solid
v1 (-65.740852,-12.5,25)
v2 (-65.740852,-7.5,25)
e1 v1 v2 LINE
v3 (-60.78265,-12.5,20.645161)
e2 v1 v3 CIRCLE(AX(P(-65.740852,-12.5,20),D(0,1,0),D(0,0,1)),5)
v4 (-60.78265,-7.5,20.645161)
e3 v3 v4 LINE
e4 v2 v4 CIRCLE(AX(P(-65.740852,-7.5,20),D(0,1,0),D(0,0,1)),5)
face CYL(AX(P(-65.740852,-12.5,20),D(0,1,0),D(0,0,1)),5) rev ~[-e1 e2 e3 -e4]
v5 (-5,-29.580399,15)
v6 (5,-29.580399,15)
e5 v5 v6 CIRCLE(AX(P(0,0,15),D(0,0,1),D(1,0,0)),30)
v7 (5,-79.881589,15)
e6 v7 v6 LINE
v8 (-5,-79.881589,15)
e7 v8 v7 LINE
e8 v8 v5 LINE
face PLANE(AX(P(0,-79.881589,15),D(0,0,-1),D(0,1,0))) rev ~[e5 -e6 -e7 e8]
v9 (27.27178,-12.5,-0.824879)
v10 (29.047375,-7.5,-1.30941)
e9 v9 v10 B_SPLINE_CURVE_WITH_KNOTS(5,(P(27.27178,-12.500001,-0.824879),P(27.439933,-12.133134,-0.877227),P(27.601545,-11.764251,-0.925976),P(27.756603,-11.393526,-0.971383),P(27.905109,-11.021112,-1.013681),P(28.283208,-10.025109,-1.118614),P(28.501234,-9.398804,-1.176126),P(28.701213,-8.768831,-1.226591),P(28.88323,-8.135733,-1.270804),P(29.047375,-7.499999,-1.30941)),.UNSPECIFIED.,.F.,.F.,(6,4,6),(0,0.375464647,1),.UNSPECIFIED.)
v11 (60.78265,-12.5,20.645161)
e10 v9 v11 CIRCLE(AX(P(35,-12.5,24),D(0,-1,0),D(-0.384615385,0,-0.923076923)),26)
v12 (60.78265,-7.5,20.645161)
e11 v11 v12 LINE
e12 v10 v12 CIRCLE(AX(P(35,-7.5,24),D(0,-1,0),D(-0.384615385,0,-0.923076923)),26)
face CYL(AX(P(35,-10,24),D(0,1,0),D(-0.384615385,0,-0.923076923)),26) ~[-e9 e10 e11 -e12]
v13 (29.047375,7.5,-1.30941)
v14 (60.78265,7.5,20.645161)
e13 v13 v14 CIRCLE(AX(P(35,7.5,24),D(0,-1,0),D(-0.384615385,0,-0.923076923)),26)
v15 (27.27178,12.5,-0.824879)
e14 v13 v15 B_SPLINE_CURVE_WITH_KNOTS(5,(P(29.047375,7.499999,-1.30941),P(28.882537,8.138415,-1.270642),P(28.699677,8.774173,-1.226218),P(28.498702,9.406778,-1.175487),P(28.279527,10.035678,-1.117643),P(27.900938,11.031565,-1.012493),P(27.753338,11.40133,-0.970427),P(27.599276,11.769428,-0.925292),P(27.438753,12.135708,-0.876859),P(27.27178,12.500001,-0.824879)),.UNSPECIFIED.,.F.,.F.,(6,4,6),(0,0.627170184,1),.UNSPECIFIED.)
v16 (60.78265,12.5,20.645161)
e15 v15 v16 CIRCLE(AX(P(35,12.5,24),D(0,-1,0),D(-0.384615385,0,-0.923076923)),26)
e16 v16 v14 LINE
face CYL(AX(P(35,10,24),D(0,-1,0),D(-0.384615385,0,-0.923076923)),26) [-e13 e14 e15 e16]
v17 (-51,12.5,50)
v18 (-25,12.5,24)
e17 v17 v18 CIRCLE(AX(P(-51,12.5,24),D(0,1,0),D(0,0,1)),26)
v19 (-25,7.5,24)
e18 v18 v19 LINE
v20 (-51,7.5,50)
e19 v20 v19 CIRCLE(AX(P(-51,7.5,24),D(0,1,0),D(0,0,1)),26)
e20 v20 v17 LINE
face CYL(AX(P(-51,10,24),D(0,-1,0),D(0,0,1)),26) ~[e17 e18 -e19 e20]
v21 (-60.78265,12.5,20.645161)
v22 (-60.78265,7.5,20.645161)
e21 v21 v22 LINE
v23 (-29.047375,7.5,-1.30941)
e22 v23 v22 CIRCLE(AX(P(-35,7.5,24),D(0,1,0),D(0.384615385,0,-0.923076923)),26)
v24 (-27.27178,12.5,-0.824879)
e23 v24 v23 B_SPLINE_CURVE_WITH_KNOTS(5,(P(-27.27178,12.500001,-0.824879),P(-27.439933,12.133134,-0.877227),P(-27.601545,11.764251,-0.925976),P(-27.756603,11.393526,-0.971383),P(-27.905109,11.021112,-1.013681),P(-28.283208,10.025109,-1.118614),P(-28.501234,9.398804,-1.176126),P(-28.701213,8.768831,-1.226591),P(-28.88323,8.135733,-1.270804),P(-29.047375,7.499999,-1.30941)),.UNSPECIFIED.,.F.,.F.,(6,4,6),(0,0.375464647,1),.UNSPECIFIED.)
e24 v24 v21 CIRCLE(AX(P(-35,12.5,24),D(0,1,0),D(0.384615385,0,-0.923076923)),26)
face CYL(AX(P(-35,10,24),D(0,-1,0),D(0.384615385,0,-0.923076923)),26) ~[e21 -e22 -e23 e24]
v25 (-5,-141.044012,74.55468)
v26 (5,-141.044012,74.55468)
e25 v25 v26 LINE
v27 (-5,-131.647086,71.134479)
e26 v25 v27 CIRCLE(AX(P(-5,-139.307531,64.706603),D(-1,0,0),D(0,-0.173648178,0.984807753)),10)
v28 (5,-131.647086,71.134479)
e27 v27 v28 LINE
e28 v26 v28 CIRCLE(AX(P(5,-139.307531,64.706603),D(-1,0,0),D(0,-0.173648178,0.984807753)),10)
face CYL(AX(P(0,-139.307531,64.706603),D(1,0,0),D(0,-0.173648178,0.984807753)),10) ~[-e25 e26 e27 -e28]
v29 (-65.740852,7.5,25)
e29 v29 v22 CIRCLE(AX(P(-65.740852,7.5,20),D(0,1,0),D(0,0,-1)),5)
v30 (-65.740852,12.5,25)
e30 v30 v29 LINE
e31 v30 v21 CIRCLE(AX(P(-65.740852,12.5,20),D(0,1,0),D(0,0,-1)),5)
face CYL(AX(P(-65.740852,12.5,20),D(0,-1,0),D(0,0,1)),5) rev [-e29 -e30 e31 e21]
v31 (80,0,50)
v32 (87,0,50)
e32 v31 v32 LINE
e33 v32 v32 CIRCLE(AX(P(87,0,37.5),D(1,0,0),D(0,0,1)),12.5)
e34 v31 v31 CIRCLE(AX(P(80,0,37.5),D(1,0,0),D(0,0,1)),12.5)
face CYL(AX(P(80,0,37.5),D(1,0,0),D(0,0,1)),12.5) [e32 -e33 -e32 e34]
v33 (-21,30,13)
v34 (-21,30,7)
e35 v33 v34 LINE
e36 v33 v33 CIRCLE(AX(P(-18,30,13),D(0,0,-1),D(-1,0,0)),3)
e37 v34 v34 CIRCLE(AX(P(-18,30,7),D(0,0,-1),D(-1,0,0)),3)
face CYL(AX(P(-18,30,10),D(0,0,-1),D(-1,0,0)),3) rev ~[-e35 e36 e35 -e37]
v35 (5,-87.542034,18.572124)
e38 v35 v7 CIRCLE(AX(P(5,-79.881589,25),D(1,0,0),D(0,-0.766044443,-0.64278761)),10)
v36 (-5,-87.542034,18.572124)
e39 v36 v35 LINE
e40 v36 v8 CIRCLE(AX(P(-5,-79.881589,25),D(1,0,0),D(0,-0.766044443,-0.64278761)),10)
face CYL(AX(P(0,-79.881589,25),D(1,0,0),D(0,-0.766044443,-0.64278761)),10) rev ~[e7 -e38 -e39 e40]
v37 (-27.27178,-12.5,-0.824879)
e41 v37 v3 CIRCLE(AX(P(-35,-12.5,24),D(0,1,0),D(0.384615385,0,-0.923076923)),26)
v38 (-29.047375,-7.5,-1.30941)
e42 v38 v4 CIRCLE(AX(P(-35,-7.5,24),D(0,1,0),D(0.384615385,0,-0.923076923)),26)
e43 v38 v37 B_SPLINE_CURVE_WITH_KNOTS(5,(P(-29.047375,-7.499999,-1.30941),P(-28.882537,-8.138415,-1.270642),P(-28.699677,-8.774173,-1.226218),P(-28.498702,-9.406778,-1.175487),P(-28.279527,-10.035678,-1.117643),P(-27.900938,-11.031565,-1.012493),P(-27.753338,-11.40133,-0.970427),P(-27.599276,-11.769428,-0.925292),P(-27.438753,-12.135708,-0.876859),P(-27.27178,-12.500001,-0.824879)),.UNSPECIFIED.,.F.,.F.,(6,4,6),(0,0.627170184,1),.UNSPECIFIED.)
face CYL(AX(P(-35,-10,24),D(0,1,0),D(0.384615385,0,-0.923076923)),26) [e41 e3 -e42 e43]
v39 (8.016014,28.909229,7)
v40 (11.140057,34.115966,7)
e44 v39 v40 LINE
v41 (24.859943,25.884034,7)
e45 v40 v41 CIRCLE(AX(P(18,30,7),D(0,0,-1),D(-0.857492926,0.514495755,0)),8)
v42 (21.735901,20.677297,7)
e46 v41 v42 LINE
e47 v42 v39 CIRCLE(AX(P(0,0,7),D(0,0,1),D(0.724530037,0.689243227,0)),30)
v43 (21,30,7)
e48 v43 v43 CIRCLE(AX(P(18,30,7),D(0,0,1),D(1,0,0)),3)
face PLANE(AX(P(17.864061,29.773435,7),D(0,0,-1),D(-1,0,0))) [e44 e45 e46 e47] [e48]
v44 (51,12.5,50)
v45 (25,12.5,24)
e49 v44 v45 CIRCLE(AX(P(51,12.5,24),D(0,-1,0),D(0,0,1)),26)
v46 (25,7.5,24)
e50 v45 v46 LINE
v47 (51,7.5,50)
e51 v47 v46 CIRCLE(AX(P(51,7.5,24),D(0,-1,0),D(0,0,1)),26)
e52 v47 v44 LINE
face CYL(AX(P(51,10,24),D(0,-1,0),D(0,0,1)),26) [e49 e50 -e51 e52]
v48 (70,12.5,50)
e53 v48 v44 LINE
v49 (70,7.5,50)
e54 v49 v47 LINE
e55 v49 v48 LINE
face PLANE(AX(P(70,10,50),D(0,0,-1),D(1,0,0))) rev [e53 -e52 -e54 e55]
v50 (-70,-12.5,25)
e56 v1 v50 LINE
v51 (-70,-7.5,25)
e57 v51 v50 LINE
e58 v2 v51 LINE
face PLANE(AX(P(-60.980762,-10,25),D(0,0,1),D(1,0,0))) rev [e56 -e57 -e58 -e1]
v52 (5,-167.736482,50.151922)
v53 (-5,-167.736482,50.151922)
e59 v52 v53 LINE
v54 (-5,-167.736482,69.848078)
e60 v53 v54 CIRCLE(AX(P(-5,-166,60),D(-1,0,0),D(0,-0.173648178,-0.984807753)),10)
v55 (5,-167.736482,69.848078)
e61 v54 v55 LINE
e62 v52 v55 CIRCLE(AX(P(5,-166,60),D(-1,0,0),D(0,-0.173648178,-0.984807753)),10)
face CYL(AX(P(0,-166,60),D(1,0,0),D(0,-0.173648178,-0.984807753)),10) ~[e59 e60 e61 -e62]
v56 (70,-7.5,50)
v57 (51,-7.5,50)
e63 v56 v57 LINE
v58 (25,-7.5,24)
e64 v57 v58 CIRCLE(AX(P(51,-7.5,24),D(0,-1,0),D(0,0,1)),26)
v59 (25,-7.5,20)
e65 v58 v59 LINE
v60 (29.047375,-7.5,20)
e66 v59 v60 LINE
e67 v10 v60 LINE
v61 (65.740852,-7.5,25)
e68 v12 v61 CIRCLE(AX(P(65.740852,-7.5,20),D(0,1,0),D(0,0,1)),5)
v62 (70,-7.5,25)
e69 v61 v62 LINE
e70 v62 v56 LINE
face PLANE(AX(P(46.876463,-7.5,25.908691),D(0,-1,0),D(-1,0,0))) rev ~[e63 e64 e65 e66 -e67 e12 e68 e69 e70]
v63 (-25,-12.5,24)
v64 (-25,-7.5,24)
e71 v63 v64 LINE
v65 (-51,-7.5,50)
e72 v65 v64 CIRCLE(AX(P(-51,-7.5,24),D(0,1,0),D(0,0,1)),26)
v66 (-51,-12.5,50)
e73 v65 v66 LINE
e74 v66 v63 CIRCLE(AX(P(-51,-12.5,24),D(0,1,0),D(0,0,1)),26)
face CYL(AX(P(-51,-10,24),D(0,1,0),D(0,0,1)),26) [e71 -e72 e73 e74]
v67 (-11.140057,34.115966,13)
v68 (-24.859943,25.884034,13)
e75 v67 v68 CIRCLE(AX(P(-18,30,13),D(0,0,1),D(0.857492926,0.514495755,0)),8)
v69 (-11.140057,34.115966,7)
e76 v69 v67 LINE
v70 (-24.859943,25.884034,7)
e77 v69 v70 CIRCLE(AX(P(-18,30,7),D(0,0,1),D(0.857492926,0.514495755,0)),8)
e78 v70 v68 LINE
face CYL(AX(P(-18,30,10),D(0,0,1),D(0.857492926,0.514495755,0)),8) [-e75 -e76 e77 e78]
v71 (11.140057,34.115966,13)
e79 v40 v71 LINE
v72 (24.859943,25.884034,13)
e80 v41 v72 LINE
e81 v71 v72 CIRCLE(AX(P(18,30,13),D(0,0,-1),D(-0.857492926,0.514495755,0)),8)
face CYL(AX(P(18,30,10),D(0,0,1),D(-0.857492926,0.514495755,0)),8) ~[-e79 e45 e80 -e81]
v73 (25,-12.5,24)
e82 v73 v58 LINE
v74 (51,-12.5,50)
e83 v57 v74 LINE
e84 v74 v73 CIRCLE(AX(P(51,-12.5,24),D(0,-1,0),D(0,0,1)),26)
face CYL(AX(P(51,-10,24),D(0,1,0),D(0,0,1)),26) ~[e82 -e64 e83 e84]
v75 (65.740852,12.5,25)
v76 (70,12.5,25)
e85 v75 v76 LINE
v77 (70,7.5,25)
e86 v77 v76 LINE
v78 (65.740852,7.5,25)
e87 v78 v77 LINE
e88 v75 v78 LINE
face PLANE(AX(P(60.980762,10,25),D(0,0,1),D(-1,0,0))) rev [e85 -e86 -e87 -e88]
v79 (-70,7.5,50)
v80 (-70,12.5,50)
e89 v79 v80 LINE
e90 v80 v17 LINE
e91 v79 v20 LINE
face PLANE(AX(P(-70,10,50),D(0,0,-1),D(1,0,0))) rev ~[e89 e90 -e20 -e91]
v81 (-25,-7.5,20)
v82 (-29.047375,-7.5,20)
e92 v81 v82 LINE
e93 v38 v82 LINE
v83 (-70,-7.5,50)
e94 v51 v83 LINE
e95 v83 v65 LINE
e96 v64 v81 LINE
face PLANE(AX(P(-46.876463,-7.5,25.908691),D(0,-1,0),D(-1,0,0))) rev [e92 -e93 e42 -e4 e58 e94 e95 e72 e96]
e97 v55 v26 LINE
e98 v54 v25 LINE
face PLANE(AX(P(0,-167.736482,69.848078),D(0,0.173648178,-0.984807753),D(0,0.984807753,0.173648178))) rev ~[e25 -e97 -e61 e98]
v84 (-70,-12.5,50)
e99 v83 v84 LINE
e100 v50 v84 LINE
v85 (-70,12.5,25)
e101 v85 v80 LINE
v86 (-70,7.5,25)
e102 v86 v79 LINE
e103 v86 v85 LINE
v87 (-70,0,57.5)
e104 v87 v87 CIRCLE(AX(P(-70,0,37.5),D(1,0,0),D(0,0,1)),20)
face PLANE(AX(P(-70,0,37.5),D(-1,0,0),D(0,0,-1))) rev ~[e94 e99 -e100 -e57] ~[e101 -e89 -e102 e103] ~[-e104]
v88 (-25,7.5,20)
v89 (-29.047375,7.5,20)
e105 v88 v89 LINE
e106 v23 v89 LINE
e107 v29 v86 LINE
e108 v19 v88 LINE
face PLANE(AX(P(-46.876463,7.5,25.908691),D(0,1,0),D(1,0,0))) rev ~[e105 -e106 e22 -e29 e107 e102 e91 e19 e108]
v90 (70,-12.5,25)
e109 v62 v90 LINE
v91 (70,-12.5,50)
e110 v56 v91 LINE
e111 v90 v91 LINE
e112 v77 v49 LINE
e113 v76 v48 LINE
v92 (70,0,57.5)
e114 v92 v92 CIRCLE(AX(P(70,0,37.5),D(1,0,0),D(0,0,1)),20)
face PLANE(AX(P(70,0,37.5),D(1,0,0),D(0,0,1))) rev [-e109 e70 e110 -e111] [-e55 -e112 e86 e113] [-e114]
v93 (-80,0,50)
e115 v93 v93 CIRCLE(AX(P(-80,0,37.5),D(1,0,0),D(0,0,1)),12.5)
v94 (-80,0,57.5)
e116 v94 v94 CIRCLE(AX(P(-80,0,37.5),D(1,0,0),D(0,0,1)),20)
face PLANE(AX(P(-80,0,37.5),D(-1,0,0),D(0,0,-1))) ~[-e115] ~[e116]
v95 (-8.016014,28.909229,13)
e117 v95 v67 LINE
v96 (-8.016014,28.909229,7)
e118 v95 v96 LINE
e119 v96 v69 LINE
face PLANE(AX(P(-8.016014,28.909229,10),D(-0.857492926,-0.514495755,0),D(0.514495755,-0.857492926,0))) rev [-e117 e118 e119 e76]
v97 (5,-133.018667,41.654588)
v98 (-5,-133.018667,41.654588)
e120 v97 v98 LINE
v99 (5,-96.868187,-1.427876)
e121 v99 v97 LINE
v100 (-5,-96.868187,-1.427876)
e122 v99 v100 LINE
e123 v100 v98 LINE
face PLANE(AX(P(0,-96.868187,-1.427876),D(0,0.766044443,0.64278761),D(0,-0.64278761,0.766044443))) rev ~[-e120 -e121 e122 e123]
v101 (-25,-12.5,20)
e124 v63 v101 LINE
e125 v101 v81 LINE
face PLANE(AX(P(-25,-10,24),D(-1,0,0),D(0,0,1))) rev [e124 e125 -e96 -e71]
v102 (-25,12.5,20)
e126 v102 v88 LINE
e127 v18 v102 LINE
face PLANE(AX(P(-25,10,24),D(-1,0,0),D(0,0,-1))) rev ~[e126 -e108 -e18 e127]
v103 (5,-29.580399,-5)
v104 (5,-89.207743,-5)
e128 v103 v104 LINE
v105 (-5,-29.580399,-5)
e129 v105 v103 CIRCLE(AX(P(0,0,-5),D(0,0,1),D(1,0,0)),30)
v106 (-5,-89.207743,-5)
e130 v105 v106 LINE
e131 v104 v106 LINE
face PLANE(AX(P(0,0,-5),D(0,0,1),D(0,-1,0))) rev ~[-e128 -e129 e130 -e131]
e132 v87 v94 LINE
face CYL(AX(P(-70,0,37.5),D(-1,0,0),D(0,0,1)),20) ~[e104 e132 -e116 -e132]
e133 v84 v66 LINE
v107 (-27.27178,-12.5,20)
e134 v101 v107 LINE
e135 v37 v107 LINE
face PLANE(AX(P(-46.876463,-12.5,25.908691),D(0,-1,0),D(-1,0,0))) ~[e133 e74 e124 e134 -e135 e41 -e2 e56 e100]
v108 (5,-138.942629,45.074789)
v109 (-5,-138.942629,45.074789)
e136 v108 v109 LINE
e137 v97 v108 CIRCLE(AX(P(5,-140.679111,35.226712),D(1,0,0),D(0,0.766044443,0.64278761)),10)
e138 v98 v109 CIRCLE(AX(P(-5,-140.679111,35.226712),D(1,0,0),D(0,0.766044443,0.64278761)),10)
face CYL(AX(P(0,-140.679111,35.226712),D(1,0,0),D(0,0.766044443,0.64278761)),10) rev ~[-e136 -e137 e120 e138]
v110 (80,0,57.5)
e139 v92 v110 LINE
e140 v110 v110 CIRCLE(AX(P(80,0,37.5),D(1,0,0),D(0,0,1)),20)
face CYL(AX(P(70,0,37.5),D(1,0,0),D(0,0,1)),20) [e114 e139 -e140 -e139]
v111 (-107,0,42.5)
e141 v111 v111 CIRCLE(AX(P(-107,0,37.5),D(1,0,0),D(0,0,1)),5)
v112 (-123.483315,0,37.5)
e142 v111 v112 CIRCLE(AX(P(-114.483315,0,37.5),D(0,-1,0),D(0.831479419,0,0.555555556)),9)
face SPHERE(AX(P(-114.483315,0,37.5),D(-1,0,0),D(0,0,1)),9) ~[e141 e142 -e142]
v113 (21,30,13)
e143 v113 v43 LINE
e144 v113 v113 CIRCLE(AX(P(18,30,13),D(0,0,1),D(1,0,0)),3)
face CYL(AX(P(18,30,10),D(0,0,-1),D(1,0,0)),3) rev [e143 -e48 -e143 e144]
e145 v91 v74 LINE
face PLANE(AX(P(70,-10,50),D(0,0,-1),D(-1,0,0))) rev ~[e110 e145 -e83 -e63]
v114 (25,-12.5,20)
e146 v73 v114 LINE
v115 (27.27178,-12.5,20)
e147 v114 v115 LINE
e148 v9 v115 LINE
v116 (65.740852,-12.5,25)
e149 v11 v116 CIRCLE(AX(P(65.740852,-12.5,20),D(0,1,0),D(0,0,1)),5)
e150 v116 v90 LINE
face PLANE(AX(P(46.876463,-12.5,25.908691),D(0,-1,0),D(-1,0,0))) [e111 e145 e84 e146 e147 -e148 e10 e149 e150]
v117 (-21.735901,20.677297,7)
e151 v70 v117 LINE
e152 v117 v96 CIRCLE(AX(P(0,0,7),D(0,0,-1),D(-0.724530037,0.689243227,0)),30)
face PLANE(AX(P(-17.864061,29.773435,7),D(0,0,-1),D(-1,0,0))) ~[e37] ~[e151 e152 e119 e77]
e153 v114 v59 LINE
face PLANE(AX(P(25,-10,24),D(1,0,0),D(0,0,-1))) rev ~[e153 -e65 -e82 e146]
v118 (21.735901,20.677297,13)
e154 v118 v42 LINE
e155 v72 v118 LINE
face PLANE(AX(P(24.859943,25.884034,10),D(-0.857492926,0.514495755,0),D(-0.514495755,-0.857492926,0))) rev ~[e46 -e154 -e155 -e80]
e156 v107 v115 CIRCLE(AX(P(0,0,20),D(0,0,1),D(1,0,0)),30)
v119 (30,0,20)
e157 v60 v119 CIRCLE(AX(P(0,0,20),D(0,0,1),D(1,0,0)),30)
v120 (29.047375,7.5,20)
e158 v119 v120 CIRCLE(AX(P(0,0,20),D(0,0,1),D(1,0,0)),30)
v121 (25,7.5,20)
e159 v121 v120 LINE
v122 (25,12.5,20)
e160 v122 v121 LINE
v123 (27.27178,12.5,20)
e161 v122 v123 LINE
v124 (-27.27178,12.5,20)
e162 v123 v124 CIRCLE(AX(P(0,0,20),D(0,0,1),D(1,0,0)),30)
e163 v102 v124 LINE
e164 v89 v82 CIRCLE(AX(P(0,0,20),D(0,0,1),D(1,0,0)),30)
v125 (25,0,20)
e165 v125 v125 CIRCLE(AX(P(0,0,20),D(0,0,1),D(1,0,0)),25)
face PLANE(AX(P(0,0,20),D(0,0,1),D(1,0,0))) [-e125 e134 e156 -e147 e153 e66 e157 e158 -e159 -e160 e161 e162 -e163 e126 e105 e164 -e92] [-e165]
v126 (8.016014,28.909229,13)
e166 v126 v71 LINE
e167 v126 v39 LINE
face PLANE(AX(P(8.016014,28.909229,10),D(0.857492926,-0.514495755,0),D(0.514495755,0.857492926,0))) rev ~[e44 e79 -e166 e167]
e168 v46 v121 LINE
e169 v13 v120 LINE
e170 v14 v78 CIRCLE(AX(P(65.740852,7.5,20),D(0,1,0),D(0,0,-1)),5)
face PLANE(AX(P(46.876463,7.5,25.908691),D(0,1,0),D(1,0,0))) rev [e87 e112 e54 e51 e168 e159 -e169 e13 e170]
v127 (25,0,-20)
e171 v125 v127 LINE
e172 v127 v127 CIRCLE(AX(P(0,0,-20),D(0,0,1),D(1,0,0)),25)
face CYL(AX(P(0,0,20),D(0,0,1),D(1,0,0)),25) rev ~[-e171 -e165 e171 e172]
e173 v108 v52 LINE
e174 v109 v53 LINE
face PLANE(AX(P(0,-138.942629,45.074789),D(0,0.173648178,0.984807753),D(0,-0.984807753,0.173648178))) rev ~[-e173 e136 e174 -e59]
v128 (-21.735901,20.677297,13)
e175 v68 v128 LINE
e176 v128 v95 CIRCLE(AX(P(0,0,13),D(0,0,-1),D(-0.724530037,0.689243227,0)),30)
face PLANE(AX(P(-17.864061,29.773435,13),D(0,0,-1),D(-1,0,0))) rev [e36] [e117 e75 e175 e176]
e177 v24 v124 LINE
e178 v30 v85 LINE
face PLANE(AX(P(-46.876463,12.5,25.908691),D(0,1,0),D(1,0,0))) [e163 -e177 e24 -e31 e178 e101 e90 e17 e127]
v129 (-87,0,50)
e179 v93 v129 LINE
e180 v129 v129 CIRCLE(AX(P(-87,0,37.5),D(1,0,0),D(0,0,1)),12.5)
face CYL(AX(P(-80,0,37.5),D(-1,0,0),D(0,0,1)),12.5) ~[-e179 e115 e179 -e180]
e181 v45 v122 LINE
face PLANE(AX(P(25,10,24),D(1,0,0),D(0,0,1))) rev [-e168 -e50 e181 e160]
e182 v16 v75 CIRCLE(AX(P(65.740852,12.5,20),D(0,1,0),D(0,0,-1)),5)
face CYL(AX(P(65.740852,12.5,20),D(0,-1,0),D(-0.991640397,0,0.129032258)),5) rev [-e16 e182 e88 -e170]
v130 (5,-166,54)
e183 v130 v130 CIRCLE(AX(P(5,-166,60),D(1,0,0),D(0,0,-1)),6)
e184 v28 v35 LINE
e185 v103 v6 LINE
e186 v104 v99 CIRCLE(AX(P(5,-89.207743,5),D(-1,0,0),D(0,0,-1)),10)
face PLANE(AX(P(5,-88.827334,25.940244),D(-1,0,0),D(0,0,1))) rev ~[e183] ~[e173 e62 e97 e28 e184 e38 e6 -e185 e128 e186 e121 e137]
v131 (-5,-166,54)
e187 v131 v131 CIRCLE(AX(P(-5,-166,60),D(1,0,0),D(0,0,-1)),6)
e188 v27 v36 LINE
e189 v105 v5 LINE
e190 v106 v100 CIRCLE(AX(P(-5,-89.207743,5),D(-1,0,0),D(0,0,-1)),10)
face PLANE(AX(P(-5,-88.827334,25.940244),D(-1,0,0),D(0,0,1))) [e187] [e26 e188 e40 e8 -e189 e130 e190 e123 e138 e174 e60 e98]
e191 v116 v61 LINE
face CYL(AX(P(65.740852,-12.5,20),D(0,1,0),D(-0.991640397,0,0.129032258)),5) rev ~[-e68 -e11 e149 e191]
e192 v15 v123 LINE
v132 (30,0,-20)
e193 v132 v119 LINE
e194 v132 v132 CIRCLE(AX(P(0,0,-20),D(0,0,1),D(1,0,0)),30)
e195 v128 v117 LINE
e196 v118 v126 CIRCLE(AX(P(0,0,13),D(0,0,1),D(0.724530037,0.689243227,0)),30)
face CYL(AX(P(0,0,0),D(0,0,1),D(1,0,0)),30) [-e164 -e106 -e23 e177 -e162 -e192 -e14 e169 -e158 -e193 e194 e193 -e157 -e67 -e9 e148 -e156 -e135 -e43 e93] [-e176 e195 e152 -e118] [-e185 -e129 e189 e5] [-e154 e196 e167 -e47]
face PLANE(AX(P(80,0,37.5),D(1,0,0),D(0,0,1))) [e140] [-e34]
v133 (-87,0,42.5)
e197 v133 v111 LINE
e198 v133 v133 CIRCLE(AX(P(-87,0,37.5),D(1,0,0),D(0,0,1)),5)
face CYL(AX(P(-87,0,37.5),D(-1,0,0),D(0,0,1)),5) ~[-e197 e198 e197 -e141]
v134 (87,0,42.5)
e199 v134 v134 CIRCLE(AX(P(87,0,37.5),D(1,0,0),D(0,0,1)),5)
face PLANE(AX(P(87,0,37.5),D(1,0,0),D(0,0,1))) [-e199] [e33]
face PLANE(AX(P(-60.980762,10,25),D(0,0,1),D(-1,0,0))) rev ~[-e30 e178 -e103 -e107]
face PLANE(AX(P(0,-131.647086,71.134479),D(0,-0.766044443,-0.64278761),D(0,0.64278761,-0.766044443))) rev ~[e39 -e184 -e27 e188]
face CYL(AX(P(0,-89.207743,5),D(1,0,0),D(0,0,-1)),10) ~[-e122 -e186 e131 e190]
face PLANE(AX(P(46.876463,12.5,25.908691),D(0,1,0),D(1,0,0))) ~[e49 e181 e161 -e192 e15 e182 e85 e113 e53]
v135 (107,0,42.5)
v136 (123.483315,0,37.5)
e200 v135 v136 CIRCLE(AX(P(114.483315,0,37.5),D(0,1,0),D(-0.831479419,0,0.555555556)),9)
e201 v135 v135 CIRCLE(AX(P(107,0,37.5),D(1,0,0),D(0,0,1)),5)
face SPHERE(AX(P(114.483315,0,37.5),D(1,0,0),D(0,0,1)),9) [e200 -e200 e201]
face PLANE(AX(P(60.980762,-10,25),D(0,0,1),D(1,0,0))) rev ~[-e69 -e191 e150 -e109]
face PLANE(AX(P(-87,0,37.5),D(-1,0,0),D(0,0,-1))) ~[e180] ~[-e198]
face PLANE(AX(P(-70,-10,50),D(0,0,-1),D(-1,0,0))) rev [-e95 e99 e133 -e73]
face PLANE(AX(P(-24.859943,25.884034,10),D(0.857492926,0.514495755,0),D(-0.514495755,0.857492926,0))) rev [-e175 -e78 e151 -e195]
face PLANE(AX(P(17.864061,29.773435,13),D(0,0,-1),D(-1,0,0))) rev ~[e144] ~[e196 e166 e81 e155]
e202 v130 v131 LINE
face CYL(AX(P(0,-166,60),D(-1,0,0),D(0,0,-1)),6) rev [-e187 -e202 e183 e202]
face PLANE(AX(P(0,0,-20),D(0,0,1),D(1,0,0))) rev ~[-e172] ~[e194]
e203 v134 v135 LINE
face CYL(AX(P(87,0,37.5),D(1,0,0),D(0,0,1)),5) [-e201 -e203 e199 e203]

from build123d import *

# Parameters (mm, degrees)
SKETCH1_R               = 30
BOSS_EXTRUDE1_DEPTH     = 20
SKETCH2_R               = 6
BOSS_EXTRUDE2_DEPTH     = 5
BOSS_EXTRUDE3_DEPTH     = 2.5
SKETCH8_R               = 3
BOSS_EXTRUDE4_DEPTH     = 3
MIRROR2_COPY_1_DEPTH    = 2.5
SKETCH3_R               = 25
CUT_EXTRUDE1_DEPTH      = 55.706602517
CUT_EXTRUDE1_DEPTH_BACK = 41.0000001
FILLET1_R               = 5


with BuildPart() as part:
    # Sketch1 → Boss-Extrude1 (new body, symmetric)
    with BuildSketch(Plane.XY):
        Circle(SKETCH1_R)
    extrude(amount=BOSS_EXTRUDE1_DEPTH, both=True)

    # Sketch2 → Boss-Extrude2 (add, symmetric)
    with BuildSketch(Plane(origin=(0, 0, 0), x_dir=(0, 0, -1), z_dir=(1, 0, 0))):
        with BuildLine():
            Line((-15, 0), (5, 0))
            Line((5, 0), (5, -89.20774256))
            ThreePointArc((5, -89.20774256), (4.06307787, -93.433925178), (1.427876097, -96.868186992))
            Line((1.427876097, -96.868186992), (-41.654587977, -133.018666706))
            ThreePointArc((-41.654587977, -133.018666706), (-43.886965918, -135.679111138), (-45.07478941, -138.942629361))
            Line((-45.07478941, -138.942629361), (-50.15192247, -167.736481777))
            ThreePointArc((-50.15192247, -167.736481777), (-60, -176), (-69.84807753, -167.736481777))
            Line((-69.84807753, -167.736481777), (-74.554680047, -141.044012488))
            ThreePointArc((-74.554680047, -141.044012488), (-74.103528725, -135.887329278), (-71.134478614, -131.64708628))
            Line((-71.134478614, -131.64708628), (-18.572123903, -87.542033829))
            ThreePointArc((-18.572123903, -87.542033829), (-15.93692213, -84.107772015), (-15, -79.881589397))
            Line((-15, -79.881589397), (-15, 0))
        make_face()
        with Locations((-60, -166)):
            Circle(SKETCH2_R, mode=Mode.SUBTRACT)
    extrude(amount=BOSS_EXTRUDE2_DEPTH, both=True)

    # Sketch5 → Boss-Extrude3 (add, symmetric)
    with BuildSketch(Plane(origin=(0, -10, 10), x_dir=(1, 0, 0), z_dir=(0, 1, 0))):
        with BuildLine():
            Line((60.980762114, -15), (70, -15))
            Line((70, -15), (70, -40))
            Line((70, -40), (51, -40))
            ThreePointArc((51, -40), (32.615223689, -32.384776311), (25, -14))
            Line((25, -14), (25, 10))
            ThreePointArc((25, 10), (49.835639165, 7.351904144), (60.980762114, -15))
        make_face()
    boss_extrude3 = extrude(amount=BOSS_EXTRUDE3_DEPTH, both=True)

    # Mirror1: Boss-Extrude3 across plane
    add(boss_extrude3.mirror(Plane.ZX))

    # Sketch7 → Revolve1 (revolve)
    with BuildSketch(Plane.XZ, mode=Mode.PRIVATE) as revolve1_sk:
        with BuildLine():
            Line((70, 17.5), (80, 17.5))
            Line((80, 17.5), (80, 25))
            Line((80, 25), (87, 25))
            Line((87, 25), (87, 32.5))
            Line((87, 32.5), (107, 32.5))
            ThreePointArc((107, 32.5), (117.095800854, 28.88751392), (123.483314774, 37.5))
            Line((123.483314774, 37.5), (70, 37.5))
            Line((70, 37.5), (70, 17.5))
        make_face()
    revolve1 = revolve(revolve1_sk.sketch.rotate(Axis((70, 0, 37.5), (1, 0, 0)), 180), axis=Axis((70, 0, 37.5), (1, 0, 0)))  # turned: the seam where the file's is

    # Sketch8 → Boss-Extrude4 (add, symmetric)
    with BuildSketch(Plane.XY.offset(10)):
        with BuildLine():
            Line((24.859943406, 25.884033957), (21.735901111, 20.677296799))
            ThreePointArc((21.735901111, 20.677296799), (15.434872663, 25.724787771), (8.0160143, 28.909228885))
            Line((8.0160143, 28.909228885), (11.140056594, 34.115966043))
            ThreePointArc((11.140056594, 34.115966043), (22.115966043, 36.859943406), (24.859943406, 25.884033957))
        make_face()
        with Locations((18, 30)):
            Circle(SKETCH8_R, mode=Mode.SUBTRACT)
    boss_extrude4 = extrude(amount=BOSS_EXTRUDE4_DEPTH, both=True)

    # Mirror2: Boss-Extrude4, Revolve1, Boss-Extrude3 across plane
    add(boss_extrude4.mirror(Plane(origin=(0, 0, 0), x_dir=(0, 0, 1), z_dir=(1, 0, 0))))
    add(revolve1.mirror(Plane(origin=(0, 0, 0), x_dir=(0, 0, 1), z_dir=(1, 0, 0))))
    add(boss_extrude3.mirror(Plane(origin=(0, 0, 0), x_dir=(0, 0, 1), z_dir=(1, 0, 0))))

    # Mirror2 copy 1 sketch → Mirror2 copy 1 (add, symmetric)
    with BuildSketch(Plane(origin=(0, 10, 10), x_dir=(-1, 0, 0), z_dir=(0, -1, 0))):
        with BuildLine():
            Line((60.980762114, -15), (70, -15))
            Line((70, -15), (70, -40))
            Line((70, -40), (51, -40))
            ThreePointArc((51, -40), (32.615223689, -32.384776311), (25, -14))
            Line((25, -14), (25, 10))
            ThreePointArc((25, 10), (49.835639165, 7.351904144), (60.980762114, -15))
        make_face()
    extrude(amount=MIRROR2_COPY_1_DEPTH, both=True)

    # Sketch3 → Cut-Extrude1 (cut, two sides)
    with BuildSketch(Plane.XY.offset(20)) as cut_extrude1_sk:
        Circle(SKETCH3_R)
    extrude(amount=CUT_EXTRUDE1_DEPTH, mode=Mode.SUBTRACT)
    extrude(cut_extrude1_sk.sketch, amount=-CUT_EXTRUDE1_DEPTH_BACK, mode=Mode.SUBTRACT)

    # Fillet1
    fillet1_edges = [part.edges().sort_by_distance(p)[0] for p in [
        (-60.980762114, -10, 25),
        (-60.980762114, 10, 25),
        (60.980762114, -10, 25),
        (60.980762114, 10, 25),
    ]]
    fillet(fillet1_edges, radius=FILLET1_R)


solid = part.part
